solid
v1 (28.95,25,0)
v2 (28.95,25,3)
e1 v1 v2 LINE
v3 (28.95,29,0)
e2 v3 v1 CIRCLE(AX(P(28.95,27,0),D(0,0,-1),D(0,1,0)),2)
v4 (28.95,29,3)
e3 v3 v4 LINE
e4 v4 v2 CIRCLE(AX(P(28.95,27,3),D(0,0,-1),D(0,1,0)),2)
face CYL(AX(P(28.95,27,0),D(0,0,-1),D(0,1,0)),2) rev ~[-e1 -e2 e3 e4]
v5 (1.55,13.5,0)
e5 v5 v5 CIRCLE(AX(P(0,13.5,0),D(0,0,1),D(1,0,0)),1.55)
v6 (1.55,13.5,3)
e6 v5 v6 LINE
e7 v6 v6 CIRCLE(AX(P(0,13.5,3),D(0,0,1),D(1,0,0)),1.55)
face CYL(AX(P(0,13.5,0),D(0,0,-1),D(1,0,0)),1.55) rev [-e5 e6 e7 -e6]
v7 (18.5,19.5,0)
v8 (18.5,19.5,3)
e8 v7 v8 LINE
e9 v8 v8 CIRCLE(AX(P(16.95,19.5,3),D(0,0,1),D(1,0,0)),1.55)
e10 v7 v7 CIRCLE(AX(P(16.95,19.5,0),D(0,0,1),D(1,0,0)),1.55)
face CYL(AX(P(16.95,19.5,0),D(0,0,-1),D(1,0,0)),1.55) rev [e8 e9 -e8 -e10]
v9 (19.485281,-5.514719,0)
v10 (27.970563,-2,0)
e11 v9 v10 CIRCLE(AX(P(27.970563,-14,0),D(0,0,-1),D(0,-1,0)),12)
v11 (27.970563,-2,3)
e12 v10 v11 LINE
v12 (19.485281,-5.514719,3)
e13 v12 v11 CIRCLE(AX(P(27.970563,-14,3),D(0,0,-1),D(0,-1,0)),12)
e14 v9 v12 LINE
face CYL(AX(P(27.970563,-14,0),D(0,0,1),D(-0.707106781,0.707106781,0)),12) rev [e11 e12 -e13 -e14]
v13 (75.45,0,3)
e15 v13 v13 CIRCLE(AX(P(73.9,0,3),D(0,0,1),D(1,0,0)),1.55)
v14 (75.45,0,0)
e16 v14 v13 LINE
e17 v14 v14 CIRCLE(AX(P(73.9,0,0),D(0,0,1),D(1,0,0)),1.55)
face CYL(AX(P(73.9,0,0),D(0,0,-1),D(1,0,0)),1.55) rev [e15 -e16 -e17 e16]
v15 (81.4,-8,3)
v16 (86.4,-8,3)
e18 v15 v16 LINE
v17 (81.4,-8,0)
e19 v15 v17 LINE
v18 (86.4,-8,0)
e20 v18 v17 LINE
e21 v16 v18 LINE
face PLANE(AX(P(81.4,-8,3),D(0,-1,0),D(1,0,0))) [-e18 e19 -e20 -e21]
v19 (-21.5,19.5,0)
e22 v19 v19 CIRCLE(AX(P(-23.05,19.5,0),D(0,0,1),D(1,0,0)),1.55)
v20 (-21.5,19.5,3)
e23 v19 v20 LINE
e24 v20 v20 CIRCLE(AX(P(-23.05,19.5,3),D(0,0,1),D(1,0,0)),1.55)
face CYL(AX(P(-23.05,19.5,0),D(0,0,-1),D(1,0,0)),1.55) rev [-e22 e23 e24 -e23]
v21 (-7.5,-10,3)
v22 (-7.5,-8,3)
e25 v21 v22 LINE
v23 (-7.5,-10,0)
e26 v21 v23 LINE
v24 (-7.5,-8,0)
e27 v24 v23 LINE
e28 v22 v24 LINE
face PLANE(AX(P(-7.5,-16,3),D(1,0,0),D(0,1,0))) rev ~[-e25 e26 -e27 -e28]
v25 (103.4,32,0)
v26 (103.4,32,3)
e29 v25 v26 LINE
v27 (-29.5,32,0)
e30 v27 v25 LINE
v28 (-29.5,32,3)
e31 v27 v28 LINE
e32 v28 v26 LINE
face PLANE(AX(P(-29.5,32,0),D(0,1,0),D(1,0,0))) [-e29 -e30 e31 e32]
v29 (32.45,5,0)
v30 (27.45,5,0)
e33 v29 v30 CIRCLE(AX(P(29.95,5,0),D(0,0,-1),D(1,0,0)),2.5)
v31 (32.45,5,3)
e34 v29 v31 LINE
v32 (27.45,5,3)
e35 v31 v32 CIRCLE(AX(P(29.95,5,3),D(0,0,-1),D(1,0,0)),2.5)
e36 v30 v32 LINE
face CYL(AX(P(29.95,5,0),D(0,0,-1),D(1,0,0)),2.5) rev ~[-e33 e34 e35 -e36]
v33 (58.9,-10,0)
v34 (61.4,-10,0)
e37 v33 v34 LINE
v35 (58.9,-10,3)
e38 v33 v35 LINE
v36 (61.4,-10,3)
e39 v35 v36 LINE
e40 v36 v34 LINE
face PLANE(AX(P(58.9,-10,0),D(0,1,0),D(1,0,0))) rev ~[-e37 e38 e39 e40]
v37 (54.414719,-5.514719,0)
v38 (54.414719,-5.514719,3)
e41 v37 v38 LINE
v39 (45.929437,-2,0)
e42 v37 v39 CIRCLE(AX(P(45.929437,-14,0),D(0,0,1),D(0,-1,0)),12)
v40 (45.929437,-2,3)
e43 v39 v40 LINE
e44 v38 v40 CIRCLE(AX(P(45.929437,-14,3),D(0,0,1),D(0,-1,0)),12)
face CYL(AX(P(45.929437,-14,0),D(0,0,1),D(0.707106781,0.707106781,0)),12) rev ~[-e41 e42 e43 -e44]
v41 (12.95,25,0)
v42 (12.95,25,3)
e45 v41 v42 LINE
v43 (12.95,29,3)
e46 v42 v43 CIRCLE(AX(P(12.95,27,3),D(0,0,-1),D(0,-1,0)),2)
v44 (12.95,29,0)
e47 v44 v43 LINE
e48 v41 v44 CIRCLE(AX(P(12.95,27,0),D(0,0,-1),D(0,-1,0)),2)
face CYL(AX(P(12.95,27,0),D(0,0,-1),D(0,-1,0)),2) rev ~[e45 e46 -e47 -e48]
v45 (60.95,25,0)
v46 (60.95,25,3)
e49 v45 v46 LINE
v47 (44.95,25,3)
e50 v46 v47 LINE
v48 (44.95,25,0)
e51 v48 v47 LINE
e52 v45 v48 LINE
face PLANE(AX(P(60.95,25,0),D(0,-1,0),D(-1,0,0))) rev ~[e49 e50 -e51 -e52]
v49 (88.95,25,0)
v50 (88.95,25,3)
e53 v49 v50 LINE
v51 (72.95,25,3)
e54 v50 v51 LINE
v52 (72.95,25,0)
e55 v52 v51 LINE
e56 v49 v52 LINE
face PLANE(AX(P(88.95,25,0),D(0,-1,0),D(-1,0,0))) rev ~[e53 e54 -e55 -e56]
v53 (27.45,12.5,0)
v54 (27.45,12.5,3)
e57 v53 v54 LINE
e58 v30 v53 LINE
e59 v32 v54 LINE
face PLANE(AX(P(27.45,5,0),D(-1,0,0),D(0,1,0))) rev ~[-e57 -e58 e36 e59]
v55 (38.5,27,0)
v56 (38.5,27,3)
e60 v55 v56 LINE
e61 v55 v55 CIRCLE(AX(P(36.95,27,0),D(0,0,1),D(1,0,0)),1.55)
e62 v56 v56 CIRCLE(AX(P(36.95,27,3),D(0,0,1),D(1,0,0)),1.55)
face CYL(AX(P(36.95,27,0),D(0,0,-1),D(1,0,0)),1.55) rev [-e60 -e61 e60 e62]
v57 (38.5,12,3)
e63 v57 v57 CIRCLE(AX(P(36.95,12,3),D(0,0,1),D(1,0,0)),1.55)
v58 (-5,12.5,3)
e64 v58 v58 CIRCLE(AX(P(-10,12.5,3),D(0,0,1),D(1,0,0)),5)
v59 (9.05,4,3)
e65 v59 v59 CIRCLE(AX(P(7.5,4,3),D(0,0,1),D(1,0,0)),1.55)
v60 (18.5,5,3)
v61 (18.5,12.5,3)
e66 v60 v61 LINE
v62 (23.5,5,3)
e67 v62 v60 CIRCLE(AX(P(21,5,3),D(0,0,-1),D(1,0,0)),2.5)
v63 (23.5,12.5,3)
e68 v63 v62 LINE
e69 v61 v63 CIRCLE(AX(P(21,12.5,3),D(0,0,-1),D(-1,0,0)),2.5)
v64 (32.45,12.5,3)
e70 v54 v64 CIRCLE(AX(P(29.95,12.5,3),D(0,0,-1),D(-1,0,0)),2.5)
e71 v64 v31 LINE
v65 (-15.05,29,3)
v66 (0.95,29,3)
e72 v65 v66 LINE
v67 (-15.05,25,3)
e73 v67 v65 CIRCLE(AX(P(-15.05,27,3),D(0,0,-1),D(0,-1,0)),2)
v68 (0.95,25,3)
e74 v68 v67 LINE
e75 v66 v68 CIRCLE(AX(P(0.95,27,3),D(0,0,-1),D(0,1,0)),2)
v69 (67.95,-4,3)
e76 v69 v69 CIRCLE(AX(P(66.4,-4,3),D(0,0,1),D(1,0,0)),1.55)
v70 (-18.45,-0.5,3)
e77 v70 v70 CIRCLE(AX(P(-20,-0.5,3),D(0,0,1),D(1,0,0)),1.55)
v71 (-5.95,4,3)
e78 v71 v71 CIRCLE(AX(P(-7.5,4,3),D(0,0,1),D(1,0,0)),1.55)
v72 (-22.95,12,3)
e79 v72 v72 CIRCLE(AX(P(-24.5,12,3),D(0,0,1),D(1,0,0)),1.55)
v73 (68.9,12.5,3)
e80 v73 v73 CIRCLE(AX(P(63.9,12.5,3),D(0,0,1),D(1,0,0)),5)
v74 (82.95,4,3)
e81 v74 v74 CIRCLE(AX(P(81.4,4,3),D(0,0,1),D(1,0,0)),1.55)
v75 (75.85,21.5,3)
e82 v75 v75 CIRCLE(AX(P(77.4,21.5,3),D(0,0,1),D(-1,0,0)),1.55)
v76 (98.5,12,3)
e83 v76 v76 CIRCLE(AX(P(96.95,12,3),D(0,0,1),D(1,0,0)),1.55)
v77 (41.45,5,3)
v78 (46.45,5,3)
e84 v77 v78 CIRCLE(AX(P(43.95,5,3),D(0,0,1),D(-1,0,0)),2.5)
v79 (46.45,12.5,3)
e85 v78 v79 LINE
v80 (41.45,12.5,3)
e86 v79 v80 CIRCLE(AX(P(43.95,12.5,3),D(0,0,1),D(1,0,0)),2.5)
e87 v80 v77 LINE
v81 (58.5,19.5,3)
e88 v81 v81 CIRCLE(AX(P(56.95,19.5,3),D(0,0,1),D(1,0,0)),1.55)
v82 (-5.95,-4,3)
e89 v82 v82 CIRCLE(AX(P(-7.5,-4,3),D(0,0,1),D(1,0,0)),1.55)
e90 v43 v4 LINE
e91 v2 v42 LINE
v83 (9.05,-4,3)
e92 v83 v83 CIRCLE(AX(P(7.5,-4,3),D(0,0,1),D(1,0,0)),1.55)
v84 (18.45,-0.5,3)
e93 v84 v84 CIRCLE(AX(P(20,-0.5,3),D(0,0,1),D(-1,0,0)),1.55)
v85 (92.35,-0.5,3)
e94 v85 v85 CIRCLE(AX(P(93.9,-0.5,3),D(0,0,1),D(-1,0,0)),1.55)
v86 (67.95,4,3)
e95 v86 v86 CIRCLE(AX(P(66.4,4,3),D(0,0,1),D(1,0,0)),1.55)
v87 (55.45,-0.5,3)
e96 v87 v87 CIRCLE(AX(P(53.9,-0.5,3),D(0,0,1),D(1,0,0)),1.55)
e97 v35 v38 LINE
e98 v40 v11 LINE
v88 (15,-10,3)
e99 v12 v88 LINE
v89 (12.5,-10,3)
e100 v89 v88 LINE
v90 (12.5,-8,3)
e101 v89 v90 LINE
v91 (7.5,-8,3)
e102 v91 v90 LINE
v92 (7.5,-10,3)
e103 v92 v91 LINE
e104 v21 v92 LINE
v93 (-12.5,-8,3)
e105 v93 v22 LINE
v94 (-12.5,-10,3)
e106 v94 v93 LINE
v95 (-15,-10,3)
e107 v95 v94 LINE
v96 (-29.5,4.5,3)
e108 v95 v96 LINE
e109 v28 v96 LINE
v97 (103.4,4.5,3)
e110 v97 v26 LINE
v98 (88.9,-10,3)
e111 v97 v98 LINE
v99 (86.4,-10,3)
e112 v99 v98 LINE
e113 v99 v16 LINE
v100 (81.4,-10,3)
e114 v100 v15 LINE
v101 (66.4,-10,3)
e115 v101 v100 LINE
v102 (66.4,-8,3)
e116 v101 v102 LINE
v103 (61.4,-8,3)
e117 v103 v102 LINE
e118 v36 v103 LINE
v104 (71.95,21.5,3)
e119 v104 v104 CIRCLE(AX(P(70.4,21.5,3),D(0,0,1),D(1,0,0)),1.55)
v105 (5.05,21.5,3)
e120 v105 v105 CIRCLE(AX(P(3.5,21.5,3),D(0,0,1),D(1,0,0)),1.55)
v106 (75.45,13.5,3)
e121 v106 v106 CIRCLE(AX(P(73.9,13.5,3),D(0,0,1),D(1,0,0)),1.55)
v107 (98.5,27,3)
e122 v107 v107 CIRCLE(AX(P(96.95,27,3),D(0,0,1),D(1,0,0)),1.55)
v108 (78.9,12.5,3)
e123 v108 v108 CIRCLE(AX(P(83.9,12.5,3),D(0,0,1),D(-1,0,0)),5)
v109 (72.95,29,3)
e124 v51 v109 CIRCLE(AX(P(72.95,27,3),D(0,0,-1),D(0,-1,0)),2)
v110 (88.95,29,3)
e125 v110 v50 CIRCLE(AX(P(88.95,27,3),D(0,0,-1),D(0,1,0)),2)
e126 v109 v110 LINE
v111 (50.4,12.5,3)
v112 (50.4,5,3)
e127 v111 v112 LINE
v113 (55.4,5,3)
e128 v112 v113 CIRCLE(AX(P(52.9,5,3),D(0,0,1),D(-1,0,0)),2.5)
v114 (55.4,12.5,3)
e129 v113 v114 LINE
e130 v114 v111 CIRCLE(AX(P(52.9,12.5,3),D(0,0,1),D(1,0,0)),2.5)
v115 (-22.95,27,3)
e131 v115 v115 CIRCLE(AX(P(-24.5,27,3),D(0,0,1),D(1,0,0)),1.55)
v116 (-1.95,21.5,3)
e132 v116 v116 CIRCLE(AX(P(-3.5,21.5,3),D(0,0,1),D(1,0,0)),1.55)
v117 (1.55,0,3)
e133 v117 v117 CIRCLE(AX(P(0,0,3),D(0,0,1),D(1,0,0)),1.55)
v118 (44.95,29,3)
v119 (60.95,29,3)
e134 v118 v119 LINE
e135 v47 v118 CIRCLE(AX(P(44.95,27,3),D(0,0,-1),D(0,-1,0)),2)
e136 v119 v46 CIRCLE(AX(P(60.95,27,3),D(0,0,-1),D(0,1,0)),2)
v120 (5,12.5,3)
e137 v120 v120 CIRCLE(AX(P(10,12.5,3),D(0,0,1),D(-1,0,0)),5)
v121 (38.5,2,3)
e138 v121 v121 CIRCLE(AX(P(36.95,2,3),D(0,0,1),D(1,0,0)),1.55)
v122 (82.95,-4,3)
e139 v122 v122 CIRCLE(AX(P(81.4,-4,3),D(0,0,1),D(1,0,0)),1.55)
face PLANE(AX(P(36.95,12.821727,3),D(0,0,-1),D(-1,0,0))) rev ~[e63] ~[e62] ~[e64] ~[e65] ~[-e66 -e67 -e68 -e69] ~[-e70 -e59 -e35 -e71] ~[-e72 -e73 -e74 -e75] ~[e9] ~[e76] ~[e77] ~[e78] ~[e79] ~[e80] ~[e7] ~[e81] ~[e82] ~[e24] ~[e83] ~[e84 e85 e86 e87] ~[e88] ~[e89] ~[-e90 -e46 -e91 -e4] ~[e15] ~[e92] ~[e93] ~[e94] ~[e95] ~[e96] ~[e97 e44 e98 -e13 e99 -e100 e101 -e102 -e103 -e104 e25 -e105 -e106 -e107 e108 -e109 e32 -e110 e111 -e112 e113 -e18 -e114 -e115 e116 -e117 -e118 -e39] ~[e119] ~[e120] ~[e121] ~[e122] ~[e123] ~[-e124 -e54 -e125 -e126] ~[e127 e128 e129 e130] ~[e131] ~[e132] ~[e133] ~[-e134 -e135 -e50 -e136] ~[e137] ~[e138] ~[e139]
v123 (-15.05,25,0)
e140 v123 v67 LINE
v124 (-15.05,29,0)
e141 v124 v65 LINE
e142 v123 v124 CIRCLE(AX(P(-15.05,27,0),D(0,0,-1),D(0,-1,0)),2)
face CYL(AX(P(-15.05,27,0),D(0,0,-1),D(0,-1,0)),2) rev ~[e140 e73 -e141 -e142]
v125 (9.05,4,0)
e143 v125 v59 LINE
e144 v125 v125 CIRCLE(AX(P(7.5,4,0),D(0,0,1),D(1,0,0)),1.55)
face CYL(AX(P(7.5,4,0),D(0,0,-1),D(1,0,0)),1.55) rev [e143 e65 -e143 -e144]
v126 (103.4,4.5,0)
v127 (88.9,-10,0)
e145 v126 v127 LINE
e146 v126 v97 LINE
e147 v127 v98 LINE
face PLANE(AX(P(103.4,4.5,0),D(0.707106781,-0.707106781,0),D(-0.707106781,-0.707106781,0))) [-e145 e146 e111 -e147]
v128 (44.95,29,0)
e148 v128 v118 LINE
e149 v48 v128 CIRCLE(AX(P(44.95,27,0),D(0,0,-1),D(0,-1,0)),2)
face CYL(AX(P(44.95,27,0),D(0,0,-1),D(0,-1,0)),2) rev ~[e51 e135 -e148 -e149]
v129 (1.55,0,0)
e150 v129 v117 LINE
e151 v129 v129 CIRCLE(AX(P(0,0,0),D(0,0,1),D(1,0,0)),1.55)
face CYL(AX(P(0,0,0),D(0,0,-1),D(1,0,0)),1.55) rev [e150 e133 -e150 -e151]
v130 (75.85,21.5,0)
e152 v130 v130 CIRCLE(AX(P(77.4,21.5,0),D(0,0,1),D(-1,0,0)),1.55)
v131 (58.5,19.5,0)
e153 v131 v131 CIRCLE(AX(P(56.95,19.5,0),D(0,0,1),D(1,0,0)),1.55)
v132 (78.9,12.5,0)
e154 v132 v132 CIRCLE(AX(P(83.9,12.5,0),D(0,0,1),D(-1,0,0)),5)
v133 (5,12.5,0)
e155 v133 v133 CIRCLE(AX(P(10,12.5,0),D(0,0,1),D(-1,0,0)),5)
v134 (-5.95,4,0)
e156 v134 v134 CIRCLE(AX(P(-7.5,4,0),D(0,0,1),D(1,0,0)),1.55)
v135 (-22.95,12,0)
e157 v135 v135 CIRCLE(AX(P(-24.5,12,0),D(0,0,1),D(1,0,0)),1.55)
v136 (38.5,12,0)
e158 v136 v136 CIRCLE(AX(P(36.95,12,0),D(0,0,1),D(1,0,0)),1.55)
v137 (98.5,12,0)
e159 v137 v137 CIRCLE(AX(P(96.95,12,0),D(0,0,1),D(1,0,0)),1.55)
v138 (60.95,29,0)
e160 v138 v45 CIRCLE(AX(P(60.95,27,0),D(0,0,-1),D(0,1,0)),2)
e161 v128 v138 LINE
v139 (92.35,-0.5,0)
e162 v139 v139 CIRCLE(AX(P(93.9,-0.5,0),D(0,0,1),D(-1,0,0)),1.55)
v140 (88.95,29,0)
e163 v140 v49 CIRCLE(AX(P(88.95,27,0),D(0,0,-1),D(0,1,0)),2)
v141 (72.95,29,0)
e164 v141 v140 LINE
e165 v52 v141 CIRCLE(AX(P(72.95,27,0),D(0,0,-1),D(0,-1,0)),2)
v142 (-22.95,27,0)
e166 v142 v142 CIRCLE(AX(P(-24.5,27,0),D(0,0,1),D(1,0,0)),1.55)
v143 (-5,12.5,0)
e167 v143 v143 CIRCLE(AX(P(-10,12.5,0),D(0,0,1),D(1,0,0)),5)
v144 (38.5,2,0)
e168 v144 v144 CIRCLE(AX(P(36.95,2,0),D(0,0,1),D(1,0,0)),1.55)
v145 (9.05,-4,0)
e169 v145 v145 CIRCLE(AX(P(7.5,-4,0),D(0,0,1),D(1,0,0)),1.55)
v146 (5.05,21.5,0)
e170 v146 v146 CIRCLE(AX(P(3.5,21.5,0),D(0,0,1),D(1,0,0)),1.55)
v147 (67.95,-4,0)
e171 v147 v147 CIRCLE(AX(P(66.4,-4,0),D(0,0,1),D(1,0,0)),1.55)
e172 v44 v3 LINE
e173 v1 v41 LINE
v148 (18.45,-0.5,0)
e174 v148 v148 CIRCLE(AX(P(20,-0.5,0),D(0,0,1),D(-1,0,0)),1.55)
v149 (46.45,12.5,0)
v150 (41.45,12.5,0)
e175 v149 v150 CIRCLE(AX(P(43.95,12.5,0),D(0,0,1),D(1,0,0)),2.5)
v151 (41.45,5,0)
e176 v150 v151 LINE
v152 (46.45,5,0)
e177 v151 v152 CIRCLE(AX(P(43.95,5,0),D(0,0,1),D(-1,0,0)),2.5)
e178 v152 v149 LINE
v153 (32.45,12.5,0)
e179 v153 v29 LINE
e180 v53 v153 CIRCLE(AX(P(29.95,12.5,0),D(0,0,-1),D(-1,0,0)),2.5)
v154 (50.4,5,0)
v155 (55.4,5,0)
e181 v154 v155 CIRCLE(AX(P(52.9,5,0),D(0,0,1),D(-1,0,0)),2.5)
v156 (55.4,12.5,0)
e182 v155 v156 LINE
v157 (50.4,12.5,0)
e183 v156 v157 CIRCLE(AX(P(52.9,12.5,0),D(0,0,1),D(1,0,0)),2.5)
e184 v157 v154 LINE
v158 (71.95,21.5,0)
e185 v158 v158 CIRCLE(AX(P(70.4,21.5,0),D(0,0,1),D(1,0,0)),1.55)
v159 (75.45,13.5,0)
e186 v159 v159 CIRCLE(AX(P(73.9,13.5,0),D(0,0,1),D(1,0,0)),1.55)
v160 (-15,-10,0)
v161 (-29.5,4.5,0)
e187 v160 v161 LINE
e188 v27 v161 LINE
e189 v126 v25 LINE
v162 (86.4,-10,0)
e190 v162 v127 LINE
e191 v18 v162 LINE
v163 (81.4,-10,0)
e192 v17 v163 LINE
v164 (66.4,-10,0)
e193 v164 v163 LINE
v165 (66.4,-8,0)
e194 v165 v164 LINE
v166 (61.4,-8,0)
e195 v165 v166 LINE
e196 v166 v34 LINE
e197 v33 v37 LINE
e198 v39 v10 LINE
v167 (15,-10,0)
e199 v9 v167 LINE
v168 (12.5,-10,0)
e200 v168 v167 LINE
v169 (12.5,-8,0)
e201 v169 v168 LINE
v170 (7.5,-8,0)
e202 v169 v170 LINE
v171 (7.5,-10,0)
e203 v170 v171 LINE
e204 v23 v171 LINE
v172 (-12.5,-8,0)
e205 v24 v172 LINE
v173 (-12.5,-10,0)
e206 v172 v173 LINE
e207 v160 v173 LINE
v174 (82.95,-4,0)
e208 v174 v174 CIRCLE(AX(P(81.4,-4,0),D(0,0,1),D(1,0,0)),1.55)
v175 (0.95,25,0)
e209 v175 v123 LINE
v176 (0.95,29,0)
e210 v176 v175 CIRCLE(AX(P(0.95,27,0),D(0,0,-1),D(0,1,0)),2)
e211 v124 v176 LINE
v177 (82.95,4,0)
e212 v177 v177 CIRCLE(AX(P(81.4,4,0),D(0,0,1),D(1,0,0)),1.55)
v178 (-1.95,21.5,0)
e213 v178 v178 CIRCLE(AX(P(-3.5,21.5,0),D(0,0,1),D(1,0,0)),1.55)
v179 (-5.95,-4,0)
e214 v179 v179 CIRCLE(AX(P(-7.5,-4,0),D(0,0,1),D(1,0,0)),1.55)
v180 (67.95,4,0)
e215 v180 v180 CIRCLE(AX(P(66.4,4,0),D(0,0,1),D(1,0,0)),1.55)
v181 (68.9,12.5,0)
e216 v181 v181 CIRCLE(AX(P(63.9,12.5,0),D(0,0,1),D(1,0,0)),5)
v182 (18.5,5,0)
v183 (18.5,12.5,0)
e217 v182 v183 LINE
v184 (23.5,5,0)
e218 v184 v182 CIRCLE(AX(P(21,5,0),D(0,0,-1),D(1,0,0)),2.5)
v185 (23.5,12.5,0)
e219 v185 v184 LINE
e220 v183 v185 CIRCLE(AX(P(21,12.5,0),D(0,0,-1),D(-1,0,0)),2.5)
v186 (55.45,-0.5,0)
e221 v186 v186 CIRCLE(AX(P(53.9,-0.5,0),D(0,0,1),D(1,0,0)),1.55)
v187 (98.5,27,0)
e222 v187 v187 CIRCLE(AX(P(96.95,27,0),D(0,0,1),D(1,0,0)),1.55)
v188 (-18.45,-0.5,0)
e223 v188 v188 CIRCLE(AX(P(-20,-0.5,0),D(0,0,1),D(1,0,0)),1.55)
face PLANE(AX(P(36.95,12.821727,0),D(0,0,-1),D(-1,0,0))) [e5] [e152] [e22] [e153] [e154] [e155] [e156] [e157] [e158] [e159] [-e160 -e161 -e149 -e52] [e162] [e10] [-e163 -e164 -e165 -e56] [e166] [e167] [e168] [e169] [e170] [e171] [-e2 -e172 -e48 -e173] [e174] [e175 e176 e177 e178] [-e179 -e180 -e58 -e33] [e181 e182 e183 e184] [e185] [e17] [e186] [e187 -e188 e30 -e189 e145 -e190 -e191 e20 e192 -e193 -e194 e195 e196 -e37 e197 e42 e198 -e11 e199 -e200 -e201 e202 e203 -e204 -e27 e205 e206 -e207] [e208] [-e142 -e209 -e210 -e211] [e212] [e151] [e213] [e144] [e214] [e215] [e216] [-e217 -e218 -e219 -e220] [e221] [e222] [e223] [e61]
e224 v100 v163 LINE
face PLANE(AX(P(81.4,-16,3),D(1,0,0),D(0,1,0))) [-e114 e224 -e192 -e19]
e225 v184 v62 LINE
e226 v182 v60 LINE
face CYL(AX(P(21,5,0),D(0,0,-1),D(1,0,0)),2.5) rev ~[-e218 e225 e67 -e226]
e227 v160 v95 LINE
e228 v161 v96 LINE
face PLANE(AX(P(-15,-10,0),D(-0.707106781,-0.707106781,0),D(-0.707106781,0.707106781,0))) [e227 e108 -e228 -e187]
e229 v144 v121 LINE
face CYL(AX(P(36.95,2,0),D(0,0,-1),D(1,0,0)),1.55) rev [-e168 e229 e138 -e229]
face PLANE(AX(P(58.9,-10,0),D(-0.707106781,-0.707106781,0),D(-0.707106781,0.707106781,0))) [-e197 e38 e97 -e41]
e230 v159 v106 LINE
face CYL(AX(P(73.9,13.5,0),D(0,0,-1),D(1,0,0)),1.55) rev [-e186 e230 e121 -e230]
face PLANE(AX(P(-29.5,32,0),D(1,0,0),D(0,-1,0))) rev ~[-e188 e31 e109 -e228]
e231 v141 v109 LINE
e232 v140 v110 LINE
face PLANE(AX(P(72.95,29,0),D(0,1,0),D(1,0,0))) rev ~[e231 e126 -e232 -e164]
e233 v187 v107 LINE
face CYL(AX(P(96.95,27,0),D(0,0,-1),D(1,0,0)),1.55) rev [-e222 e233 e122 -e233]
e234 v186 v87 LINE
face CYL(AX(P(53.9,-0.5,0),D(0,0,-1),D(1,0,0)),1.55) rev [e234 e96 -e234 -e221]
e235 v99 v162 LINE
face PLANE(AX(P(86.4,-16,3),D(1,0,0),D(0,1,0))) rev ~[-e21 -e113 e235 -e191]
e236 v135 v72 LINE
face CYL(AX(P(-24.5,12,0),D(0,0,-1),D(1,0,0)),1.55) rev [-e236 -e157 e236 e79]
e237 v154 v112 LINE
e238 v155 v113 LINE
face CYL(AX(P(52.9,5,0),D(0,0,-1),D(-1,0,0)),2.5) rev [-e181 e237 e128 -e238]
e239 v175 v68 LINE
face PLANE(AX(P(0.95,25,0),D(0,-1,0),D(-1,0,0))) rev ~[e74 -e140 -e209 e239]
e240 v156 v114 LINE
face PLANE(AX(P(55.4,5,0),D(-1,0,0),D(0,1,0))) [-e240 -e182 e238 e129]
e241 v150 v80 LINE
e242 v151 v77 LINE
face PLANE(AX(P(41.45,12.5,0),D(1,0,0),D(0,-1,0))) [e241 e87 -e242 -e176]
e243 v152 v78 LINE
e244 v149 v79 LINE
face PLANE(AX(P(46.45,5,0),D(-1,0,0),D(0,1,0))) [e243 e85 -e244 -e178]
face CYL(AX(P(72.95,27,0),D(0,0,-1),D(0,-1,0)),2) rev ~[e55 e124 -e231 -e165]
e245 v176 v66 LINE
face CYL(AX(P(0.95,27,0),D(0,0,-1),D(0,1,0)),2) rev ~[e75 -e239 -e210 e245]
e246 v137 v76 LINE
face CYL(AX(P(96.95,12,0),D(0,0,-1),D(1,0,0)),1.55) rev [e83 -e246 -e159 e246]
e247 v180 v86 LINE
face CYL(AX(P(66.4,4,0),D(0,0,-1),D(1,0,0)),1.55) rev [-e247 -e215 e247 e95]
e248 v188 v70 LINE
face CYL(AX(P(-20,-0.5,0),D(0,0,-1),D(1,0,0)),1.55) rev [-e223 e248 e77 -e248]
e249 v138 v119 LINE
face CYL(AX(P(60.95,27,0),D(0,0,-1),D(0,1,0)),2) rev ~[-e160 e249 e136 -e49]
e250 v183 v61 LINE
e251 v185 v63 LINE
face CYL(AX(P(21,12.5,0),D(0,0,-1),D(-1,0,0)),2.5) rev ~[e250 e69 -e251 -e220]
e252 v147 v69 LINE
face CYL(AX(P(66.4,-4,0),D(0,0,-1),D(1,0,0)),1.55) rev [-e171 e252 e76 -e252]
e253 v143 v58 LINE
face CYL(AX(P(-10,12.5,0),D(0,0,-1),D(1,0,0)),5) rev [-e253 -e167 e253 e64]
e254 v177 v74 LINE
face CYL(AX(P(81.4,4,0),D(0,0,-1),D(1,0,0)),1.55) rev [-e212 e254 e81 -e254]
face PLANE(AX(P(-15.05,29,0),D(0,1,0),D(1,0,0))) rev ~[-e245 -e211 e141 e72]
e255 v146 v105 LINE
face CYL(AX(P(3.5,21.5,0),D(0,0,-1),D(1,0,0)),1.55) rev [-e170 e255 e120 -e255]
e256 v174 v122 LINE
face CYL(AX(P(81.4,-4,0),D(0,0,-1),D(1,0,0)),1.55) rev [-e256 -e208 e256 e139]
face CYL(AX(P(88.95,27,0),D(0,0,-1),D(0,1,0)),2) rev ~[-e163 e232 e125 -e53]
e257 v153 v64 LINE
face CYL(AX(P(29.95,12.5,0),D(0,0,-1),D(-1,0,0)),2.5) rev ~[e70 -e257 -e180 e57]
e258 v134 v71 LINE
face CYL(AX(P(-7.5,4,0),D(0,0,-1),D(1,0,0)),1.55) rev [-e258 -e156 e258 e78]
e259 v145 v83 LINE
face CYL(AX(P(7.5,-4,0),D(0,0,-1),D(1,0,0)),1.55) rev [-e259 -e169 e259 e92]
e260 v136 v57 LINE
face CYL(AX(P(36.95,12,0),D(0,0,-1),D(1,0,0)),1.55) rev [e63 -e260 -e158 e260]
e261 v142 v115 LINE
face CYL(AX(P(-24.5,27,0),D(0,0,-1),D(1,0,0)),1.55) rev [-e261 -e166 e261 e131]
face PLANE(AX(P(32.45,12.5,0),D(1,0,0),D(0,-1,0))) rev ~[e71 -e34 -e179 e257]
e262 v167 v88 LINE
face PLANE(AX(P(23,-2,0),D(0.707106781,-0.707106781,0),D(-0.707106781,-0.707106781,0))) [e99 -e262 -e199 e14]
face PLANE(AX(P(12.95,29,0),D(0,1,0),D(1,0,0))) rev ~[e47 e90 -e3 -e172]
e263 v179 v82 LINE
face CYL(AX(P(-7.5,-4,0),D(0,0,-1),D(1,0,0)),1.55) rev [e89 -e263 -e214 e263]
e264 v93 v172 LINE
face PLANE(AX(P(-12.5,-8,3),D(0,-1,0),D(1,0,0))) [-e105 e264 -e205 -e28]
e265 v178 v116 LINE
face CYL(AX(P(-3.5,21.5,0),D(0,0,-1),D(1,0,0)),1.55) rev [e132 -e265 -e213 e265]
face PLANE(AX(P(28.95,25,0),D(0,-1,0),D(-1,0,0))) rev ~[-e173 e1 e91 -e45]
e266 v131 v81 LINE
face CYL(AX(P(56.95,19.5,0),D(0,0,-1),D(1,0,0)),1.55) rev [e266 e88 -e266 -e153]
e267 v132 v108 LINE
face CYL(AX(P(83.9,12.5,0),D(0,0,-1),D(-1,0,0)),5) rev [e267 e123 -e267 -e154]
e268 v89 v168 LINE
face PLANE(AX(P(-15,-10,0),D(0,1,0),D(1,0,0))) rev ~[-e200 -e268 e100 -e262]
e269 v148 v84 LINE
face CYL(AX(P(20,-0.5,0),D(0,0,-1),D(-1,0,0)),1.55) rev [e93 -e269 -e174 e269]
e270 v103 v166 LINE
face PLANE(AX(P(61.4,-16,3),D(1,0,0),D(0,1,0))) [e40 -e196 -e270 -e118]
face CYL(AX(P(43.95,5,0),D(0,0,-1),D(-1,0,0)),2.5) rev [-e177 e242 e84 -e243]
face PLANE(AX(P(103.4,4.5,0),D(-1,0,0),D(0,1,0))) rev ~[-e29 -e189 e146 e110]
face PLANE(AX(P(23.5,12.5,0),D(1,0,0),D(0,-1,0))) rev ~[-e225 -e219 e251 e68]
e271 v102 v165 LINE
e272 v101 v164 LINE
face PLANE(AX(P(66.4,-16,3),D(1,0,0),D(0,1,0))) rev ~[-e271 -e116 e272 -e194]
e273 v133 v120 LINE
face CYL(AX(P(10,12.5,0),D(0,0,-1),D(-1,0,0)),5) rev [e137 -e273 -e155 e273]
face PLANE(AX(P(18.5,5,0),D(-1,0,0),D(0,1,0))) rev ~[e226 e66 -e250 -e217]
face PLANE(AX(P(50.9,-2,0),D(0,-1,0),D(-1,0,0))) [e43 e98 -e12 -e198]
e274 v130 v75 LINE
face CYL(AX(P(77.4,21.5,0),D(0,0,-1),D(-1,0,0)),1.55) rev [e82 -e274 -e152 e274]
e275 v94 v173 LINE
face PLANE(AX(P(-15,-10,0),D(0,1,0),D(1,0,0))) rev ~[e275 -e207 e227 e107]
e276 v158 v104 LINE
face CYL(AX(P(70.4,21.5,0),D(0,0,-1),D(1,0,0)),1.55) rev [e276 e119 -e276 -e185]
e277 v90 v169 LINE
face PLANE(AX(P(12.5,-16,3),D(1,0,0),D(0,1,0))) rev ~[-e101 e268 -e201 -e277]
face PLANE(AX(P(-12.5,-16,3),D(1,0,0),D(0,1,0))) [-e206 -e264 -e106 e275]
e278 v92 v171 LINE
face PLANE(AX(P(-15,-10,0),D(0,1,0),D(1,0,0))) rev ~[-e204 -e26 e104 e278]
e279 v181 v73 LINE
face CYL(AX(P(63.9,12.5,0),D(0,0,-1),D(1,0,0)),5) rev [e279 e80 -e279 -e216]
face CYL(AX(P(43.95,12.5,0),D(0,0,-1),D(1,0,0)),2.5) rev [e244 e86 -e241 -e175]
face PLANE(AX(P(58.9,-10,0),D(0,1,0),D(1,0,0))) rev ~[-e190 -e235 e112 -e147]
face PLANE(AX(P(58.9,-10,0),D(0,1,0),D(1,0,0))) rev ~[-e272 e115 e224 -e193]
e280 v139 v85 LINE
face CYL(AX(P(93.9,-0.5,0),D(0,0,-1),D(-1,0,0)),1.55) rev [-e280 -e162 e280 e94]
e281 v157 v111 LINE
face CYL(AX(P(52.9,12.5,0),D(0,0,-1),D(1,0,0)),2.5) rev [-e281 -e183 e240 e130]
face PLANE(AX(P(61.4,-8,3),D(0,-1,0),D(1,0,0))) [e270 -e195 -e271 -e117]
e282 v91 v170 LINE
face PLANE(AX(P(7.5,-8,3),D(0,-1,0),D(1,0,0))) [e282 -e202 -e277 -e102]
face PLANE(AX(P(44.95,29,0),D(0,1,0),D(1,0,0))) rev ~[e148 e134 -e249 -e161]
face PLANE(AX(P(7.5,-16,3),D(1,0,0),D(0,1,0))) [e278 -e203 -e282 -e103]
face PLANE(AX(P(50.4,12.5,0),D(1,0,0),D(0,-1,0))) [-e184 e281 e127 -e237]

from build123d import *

# Parameters (mm, degrees)
SKETCH_1_R          = 1.55
SKETCH_1_R_2        = 5
EXTRUDE_1_DEPTH     = 3
FILLET_1_R          = 12
SKETCH_2_W          = 5
SKETCH_2_H          = 8
CUT_EXTRUDE_1_DEPTH = 10


with BuildPart() as part:
    # 草图1 → 凸台-拉伸1 (new body)
    with BuildSketch(Plane.XY):
        Polygon((-29.5, 32), (103.4, 32), (103.4, 7), (103.4, 4.5), (88.9, -10), (86.4, -10), (61.4, -10), (58.9, -10), (50.9, -2), (23, -2), (15, -10), (12.5, -10), (-12.5, -10), (-15, -10), (-29.5, 4.5), (-29.5, 7), align=None)
        with Locations((-7.5, 4)):
            Circle(SKETCH_1_R, mode=Mode.SUBTRACT)
        with Locations((-7.5, -4)):
            Circle(SKETCH_1_R, mode=Mode.SUBTRACT)
        with Locations((7.5, -4)):
            Circle(SKETCH_1_R, mode=Mode.SUBTRACT)
        with Locations((7.5, 4)):
            Circle(SKETCH_1_R, mode=Mode.SUBTRACT)
        with Locations((66.4, 4)):
            Circle(SKETCH_1_R, mode=Mode.SUBTRACT)
        with Locations((66.4, -4)):
            Circle(SKETCH_1_R, mode=Mode.SUBTRACT)
        with Locations((81.4, 4)):
            Circle(SKETCH_1_R, mode=Mode.SUBTRACT)
        with Locations((81.4, -4)):
            Circle(SKETCH_1_R, mode=Mode.SUBTRACT)
        with Locations((-24.5, 27)):
            Circle(SKETCH_1_R, mode=Mode.SUBTRACT)
        with Locations((-24.5, 12)):
            Circle(SKETCH_1_R, mode=Mode.SUBTRACT)
        with Locations((16.95, 19.5)):
            Circle(SKETCH_1_R, mode=Mode.SUBTRACT)
        with Locations((36.95, 27)):
            Circle(SKETCH_1_R, mode=Mode.SUBTRACT)
        with Locations((36.95, 12)):
            Circle(SKETCH_1_R, mode=Mode.SUBTRACT)
        with Locations((56.95, 19.5)):
            Circle(SKETCH_1_R, mode=Mode.SUBTRACT)
        with Locations((96.95, 27)):
            Circle(SKETCH_1_R, mode=Mode.SUBTRACT)
        with Locations((96.95, 12)):
            Circle(SKETCH_1_R, mode=Mode.SUBTRACT)
        with Locations((-23.05, 19.5)):
            Circle(SKETCH_1_R, mode=Mode.SUBTRACT)
        with Locations((36.95, 2)):
            Circle(SKETCH_1_R, mode=Mode.SUBTRACT)
        with Locations((73.9, 13.5)):
            Circle(SKETCH_1_R, mode=Mode.SUBTRACT)
        with Locations((70.4, 21.5)):
            Circle(SKETCH_1_R, mode=Mode.SUBTRACT)
        with Locations(Location((77.4, 21.5, 0), (0, 0, 180))):
            Circle(SKETCH_1_R, mode=Mode.SUBTRACT)
        with Locations((0, 13.5)):
            Circle(SKETCH_1_R, mode=Mode.SUBTRACT)
        with Locations((-3.5, 21.5)):
            Circle(SKETCH_1_R, mode=Mode.SUBTRACT)
        with Locations((3.5, 21.5)):
            Circle(SKETCH_1_R, mode=Mode.SUBTRACT)
        with Locations((-20, -0.5)):
            Circle(SKETCH_1_R, mode=Mode.SUBTRACT)
        with Locations(Location((93.9, -0.5, 0), (0, 0, 180))):
            Circle(SKETCH_1_R, mode=Mode.SUBTRACT)
        with Locations(Location((20, -0.5, 0), (0, 0, 180))):
            Circle(SKETCH_1_R, mode=Mode.SUBTRACT)
        with Locations((53.9, -0.5)):
            Circle(SKETCH_1_R, mode=Mode.SUBTRACT)
        Circle(SKETCH_1_R, mode=Mode.SUBTRACT)
        with Locations((73.9, 0)):
            Circle(SKETCH_1_R, mode=Mode.SUBTRACT)
        with Locations((-10, 12.5)):
            Circle(SKETCH_1_R_2, mode=Mode.SUBTRACT)
        with Locations(Location((83.9, 12.5, 0), (0, 0, 180))):
            Circle(SKETCH_1_R_2, mode=Mode.SUBTRACT)
        with Locations(Location((10, 12.5, 0), (0, 0, 180))):
            Circle(SKETCH_1_R_2, mode=Mode.SUBTRACT)
        with Locations((63.9, 12.5)):
            Circle(SKETCH_1_R_2, mode=Mode.SUBTRACT)
        with BuildLine():
            Line((-15.05, 29), (0.95, 29))
            ThreePointArc((0.95, 29), (2.95, 27), (0.95, 25))
            Line((0.95, 25), (-15.05, 25))
            ThreePointArc((-15.05, 25), (-17.05, 27), (-15.05, 29))
        make_face(mode=Mode.SUBTRACT)
        with BuildLine():
            Line((12.95, 29), (28.95, 29))
            ThreePointArc((28.95, 29), (30.95, 27), (28.95, 25))
            Line((28.95, 25), (12.95, 25))
            ThreePointArc((12.95, 25), (10.95, 27), (12.95, 29))
        make_face(mode=Mode.SUBTRACT)
        with BuildLine():
            Line((44.95, 29), (60.95, 29))
            ThreePointArc((60.95, 29), (62.95, 27), (60.95, 25))
            Line((60.95, 25), (44.95, 25))
            ThreePointArc((44.95, 25), (42.95, 27), (44.95, 29))
        make_face(mode=Mode.SUBTRACT)
        with BuildLine():
            Line((72.95, 29), (88.95, 29))
            ThreePointArc((88.95, 29), (90.95, 27), (88.95, 25))
            Line((88.95, 25), (72.95, 25))
            ThreePointArc((72.95, 25), (70.95, 27), (72.95, 29))
        make_face(mode=Mode.SUBTRACT)
        with BuildLine():
            Line((23.5, 12.5), (23.5, 5))
            ThreePointArc((23.5, 5), (21, 2.5), (18.5, 5))
            Line((18.5, 5), (18.5, 12.5))
            ThreePointArc((18.5, 12.5), (21, 15), (23.5, 12.5))
        make_face(mode=Mode.SUBTRACT)
        with BuildLine():
            Line((32.45, 12.5), (32.45, 5))
            ThreePointArc((32.45, 5), (29.95, 2.5), (27.45, 5))
            Line((27.45, 5), (27.45, 12.5))
            ThreePointArc((27.45, 12.5), (29.95, 15), (32.45, 12.5))
        make_face(mode=Mode.SUBTRACT)
        with BuildLine():
            Line((50.4, 12.5), (50.4, 5))
            ThreePointArc((50.4, 5), (52.9, 2.5), (55.4, 5))
            Line((55.4, 5), (55.4, 12.5))
            ThreePointArc((55.4, 12.5), (52.9, 15), (50.4, 12.5))
        make_face(mode=Mode.SUBTRACT)
        with BuildLine():
            Line((41.45, 12.5), (41.45, 5))
            ThreePointArc((41.45, 5), (43.95, 2.5), (46.45, 5))
            Line((46.45, 5), (46.45, 12.5))
            ThreePointArc((46.45, 12.5), (43.95, 15), (41.45, 12.5))
        make_face(mode=Mode.SUBTRACT)
    extrude(amount=EXTRUDE_1_DEPTH)

    # 圆角1
    fillet_1_edges = [part.edges().sort_by_distance(p)[0] for p in [
        (50.9, -2, 1.5),
        (23, -2, 1.5),
    ]]
    fillet(fillet_1_edges, radius=FILLET_1_R)

    # 草图2 → 切除-拉伸1 (cut)
    with BuildSketch(Plane.XY.offset(3)):
        with Locations((-10, -12)):
            Rectangle(SKETCH_2_W, SKETCH_2_H)
        with Locations((10, -12)):
            Rectangle(SKETCH_2_W, SKETCH_2_H)
        with Locations((83.9, -12)):
            Rectangle(SKETCH_2_W, SKETCH_2_H)
        with Locations((63.9, -12)):
            Rectangle(SKETCH_2_W, SKETCH_2_H)
    extrude(amount=-CUT_EXTRUDE_1_DEPTH, mode=Mode.SUBTRACT)


solid = part.part
